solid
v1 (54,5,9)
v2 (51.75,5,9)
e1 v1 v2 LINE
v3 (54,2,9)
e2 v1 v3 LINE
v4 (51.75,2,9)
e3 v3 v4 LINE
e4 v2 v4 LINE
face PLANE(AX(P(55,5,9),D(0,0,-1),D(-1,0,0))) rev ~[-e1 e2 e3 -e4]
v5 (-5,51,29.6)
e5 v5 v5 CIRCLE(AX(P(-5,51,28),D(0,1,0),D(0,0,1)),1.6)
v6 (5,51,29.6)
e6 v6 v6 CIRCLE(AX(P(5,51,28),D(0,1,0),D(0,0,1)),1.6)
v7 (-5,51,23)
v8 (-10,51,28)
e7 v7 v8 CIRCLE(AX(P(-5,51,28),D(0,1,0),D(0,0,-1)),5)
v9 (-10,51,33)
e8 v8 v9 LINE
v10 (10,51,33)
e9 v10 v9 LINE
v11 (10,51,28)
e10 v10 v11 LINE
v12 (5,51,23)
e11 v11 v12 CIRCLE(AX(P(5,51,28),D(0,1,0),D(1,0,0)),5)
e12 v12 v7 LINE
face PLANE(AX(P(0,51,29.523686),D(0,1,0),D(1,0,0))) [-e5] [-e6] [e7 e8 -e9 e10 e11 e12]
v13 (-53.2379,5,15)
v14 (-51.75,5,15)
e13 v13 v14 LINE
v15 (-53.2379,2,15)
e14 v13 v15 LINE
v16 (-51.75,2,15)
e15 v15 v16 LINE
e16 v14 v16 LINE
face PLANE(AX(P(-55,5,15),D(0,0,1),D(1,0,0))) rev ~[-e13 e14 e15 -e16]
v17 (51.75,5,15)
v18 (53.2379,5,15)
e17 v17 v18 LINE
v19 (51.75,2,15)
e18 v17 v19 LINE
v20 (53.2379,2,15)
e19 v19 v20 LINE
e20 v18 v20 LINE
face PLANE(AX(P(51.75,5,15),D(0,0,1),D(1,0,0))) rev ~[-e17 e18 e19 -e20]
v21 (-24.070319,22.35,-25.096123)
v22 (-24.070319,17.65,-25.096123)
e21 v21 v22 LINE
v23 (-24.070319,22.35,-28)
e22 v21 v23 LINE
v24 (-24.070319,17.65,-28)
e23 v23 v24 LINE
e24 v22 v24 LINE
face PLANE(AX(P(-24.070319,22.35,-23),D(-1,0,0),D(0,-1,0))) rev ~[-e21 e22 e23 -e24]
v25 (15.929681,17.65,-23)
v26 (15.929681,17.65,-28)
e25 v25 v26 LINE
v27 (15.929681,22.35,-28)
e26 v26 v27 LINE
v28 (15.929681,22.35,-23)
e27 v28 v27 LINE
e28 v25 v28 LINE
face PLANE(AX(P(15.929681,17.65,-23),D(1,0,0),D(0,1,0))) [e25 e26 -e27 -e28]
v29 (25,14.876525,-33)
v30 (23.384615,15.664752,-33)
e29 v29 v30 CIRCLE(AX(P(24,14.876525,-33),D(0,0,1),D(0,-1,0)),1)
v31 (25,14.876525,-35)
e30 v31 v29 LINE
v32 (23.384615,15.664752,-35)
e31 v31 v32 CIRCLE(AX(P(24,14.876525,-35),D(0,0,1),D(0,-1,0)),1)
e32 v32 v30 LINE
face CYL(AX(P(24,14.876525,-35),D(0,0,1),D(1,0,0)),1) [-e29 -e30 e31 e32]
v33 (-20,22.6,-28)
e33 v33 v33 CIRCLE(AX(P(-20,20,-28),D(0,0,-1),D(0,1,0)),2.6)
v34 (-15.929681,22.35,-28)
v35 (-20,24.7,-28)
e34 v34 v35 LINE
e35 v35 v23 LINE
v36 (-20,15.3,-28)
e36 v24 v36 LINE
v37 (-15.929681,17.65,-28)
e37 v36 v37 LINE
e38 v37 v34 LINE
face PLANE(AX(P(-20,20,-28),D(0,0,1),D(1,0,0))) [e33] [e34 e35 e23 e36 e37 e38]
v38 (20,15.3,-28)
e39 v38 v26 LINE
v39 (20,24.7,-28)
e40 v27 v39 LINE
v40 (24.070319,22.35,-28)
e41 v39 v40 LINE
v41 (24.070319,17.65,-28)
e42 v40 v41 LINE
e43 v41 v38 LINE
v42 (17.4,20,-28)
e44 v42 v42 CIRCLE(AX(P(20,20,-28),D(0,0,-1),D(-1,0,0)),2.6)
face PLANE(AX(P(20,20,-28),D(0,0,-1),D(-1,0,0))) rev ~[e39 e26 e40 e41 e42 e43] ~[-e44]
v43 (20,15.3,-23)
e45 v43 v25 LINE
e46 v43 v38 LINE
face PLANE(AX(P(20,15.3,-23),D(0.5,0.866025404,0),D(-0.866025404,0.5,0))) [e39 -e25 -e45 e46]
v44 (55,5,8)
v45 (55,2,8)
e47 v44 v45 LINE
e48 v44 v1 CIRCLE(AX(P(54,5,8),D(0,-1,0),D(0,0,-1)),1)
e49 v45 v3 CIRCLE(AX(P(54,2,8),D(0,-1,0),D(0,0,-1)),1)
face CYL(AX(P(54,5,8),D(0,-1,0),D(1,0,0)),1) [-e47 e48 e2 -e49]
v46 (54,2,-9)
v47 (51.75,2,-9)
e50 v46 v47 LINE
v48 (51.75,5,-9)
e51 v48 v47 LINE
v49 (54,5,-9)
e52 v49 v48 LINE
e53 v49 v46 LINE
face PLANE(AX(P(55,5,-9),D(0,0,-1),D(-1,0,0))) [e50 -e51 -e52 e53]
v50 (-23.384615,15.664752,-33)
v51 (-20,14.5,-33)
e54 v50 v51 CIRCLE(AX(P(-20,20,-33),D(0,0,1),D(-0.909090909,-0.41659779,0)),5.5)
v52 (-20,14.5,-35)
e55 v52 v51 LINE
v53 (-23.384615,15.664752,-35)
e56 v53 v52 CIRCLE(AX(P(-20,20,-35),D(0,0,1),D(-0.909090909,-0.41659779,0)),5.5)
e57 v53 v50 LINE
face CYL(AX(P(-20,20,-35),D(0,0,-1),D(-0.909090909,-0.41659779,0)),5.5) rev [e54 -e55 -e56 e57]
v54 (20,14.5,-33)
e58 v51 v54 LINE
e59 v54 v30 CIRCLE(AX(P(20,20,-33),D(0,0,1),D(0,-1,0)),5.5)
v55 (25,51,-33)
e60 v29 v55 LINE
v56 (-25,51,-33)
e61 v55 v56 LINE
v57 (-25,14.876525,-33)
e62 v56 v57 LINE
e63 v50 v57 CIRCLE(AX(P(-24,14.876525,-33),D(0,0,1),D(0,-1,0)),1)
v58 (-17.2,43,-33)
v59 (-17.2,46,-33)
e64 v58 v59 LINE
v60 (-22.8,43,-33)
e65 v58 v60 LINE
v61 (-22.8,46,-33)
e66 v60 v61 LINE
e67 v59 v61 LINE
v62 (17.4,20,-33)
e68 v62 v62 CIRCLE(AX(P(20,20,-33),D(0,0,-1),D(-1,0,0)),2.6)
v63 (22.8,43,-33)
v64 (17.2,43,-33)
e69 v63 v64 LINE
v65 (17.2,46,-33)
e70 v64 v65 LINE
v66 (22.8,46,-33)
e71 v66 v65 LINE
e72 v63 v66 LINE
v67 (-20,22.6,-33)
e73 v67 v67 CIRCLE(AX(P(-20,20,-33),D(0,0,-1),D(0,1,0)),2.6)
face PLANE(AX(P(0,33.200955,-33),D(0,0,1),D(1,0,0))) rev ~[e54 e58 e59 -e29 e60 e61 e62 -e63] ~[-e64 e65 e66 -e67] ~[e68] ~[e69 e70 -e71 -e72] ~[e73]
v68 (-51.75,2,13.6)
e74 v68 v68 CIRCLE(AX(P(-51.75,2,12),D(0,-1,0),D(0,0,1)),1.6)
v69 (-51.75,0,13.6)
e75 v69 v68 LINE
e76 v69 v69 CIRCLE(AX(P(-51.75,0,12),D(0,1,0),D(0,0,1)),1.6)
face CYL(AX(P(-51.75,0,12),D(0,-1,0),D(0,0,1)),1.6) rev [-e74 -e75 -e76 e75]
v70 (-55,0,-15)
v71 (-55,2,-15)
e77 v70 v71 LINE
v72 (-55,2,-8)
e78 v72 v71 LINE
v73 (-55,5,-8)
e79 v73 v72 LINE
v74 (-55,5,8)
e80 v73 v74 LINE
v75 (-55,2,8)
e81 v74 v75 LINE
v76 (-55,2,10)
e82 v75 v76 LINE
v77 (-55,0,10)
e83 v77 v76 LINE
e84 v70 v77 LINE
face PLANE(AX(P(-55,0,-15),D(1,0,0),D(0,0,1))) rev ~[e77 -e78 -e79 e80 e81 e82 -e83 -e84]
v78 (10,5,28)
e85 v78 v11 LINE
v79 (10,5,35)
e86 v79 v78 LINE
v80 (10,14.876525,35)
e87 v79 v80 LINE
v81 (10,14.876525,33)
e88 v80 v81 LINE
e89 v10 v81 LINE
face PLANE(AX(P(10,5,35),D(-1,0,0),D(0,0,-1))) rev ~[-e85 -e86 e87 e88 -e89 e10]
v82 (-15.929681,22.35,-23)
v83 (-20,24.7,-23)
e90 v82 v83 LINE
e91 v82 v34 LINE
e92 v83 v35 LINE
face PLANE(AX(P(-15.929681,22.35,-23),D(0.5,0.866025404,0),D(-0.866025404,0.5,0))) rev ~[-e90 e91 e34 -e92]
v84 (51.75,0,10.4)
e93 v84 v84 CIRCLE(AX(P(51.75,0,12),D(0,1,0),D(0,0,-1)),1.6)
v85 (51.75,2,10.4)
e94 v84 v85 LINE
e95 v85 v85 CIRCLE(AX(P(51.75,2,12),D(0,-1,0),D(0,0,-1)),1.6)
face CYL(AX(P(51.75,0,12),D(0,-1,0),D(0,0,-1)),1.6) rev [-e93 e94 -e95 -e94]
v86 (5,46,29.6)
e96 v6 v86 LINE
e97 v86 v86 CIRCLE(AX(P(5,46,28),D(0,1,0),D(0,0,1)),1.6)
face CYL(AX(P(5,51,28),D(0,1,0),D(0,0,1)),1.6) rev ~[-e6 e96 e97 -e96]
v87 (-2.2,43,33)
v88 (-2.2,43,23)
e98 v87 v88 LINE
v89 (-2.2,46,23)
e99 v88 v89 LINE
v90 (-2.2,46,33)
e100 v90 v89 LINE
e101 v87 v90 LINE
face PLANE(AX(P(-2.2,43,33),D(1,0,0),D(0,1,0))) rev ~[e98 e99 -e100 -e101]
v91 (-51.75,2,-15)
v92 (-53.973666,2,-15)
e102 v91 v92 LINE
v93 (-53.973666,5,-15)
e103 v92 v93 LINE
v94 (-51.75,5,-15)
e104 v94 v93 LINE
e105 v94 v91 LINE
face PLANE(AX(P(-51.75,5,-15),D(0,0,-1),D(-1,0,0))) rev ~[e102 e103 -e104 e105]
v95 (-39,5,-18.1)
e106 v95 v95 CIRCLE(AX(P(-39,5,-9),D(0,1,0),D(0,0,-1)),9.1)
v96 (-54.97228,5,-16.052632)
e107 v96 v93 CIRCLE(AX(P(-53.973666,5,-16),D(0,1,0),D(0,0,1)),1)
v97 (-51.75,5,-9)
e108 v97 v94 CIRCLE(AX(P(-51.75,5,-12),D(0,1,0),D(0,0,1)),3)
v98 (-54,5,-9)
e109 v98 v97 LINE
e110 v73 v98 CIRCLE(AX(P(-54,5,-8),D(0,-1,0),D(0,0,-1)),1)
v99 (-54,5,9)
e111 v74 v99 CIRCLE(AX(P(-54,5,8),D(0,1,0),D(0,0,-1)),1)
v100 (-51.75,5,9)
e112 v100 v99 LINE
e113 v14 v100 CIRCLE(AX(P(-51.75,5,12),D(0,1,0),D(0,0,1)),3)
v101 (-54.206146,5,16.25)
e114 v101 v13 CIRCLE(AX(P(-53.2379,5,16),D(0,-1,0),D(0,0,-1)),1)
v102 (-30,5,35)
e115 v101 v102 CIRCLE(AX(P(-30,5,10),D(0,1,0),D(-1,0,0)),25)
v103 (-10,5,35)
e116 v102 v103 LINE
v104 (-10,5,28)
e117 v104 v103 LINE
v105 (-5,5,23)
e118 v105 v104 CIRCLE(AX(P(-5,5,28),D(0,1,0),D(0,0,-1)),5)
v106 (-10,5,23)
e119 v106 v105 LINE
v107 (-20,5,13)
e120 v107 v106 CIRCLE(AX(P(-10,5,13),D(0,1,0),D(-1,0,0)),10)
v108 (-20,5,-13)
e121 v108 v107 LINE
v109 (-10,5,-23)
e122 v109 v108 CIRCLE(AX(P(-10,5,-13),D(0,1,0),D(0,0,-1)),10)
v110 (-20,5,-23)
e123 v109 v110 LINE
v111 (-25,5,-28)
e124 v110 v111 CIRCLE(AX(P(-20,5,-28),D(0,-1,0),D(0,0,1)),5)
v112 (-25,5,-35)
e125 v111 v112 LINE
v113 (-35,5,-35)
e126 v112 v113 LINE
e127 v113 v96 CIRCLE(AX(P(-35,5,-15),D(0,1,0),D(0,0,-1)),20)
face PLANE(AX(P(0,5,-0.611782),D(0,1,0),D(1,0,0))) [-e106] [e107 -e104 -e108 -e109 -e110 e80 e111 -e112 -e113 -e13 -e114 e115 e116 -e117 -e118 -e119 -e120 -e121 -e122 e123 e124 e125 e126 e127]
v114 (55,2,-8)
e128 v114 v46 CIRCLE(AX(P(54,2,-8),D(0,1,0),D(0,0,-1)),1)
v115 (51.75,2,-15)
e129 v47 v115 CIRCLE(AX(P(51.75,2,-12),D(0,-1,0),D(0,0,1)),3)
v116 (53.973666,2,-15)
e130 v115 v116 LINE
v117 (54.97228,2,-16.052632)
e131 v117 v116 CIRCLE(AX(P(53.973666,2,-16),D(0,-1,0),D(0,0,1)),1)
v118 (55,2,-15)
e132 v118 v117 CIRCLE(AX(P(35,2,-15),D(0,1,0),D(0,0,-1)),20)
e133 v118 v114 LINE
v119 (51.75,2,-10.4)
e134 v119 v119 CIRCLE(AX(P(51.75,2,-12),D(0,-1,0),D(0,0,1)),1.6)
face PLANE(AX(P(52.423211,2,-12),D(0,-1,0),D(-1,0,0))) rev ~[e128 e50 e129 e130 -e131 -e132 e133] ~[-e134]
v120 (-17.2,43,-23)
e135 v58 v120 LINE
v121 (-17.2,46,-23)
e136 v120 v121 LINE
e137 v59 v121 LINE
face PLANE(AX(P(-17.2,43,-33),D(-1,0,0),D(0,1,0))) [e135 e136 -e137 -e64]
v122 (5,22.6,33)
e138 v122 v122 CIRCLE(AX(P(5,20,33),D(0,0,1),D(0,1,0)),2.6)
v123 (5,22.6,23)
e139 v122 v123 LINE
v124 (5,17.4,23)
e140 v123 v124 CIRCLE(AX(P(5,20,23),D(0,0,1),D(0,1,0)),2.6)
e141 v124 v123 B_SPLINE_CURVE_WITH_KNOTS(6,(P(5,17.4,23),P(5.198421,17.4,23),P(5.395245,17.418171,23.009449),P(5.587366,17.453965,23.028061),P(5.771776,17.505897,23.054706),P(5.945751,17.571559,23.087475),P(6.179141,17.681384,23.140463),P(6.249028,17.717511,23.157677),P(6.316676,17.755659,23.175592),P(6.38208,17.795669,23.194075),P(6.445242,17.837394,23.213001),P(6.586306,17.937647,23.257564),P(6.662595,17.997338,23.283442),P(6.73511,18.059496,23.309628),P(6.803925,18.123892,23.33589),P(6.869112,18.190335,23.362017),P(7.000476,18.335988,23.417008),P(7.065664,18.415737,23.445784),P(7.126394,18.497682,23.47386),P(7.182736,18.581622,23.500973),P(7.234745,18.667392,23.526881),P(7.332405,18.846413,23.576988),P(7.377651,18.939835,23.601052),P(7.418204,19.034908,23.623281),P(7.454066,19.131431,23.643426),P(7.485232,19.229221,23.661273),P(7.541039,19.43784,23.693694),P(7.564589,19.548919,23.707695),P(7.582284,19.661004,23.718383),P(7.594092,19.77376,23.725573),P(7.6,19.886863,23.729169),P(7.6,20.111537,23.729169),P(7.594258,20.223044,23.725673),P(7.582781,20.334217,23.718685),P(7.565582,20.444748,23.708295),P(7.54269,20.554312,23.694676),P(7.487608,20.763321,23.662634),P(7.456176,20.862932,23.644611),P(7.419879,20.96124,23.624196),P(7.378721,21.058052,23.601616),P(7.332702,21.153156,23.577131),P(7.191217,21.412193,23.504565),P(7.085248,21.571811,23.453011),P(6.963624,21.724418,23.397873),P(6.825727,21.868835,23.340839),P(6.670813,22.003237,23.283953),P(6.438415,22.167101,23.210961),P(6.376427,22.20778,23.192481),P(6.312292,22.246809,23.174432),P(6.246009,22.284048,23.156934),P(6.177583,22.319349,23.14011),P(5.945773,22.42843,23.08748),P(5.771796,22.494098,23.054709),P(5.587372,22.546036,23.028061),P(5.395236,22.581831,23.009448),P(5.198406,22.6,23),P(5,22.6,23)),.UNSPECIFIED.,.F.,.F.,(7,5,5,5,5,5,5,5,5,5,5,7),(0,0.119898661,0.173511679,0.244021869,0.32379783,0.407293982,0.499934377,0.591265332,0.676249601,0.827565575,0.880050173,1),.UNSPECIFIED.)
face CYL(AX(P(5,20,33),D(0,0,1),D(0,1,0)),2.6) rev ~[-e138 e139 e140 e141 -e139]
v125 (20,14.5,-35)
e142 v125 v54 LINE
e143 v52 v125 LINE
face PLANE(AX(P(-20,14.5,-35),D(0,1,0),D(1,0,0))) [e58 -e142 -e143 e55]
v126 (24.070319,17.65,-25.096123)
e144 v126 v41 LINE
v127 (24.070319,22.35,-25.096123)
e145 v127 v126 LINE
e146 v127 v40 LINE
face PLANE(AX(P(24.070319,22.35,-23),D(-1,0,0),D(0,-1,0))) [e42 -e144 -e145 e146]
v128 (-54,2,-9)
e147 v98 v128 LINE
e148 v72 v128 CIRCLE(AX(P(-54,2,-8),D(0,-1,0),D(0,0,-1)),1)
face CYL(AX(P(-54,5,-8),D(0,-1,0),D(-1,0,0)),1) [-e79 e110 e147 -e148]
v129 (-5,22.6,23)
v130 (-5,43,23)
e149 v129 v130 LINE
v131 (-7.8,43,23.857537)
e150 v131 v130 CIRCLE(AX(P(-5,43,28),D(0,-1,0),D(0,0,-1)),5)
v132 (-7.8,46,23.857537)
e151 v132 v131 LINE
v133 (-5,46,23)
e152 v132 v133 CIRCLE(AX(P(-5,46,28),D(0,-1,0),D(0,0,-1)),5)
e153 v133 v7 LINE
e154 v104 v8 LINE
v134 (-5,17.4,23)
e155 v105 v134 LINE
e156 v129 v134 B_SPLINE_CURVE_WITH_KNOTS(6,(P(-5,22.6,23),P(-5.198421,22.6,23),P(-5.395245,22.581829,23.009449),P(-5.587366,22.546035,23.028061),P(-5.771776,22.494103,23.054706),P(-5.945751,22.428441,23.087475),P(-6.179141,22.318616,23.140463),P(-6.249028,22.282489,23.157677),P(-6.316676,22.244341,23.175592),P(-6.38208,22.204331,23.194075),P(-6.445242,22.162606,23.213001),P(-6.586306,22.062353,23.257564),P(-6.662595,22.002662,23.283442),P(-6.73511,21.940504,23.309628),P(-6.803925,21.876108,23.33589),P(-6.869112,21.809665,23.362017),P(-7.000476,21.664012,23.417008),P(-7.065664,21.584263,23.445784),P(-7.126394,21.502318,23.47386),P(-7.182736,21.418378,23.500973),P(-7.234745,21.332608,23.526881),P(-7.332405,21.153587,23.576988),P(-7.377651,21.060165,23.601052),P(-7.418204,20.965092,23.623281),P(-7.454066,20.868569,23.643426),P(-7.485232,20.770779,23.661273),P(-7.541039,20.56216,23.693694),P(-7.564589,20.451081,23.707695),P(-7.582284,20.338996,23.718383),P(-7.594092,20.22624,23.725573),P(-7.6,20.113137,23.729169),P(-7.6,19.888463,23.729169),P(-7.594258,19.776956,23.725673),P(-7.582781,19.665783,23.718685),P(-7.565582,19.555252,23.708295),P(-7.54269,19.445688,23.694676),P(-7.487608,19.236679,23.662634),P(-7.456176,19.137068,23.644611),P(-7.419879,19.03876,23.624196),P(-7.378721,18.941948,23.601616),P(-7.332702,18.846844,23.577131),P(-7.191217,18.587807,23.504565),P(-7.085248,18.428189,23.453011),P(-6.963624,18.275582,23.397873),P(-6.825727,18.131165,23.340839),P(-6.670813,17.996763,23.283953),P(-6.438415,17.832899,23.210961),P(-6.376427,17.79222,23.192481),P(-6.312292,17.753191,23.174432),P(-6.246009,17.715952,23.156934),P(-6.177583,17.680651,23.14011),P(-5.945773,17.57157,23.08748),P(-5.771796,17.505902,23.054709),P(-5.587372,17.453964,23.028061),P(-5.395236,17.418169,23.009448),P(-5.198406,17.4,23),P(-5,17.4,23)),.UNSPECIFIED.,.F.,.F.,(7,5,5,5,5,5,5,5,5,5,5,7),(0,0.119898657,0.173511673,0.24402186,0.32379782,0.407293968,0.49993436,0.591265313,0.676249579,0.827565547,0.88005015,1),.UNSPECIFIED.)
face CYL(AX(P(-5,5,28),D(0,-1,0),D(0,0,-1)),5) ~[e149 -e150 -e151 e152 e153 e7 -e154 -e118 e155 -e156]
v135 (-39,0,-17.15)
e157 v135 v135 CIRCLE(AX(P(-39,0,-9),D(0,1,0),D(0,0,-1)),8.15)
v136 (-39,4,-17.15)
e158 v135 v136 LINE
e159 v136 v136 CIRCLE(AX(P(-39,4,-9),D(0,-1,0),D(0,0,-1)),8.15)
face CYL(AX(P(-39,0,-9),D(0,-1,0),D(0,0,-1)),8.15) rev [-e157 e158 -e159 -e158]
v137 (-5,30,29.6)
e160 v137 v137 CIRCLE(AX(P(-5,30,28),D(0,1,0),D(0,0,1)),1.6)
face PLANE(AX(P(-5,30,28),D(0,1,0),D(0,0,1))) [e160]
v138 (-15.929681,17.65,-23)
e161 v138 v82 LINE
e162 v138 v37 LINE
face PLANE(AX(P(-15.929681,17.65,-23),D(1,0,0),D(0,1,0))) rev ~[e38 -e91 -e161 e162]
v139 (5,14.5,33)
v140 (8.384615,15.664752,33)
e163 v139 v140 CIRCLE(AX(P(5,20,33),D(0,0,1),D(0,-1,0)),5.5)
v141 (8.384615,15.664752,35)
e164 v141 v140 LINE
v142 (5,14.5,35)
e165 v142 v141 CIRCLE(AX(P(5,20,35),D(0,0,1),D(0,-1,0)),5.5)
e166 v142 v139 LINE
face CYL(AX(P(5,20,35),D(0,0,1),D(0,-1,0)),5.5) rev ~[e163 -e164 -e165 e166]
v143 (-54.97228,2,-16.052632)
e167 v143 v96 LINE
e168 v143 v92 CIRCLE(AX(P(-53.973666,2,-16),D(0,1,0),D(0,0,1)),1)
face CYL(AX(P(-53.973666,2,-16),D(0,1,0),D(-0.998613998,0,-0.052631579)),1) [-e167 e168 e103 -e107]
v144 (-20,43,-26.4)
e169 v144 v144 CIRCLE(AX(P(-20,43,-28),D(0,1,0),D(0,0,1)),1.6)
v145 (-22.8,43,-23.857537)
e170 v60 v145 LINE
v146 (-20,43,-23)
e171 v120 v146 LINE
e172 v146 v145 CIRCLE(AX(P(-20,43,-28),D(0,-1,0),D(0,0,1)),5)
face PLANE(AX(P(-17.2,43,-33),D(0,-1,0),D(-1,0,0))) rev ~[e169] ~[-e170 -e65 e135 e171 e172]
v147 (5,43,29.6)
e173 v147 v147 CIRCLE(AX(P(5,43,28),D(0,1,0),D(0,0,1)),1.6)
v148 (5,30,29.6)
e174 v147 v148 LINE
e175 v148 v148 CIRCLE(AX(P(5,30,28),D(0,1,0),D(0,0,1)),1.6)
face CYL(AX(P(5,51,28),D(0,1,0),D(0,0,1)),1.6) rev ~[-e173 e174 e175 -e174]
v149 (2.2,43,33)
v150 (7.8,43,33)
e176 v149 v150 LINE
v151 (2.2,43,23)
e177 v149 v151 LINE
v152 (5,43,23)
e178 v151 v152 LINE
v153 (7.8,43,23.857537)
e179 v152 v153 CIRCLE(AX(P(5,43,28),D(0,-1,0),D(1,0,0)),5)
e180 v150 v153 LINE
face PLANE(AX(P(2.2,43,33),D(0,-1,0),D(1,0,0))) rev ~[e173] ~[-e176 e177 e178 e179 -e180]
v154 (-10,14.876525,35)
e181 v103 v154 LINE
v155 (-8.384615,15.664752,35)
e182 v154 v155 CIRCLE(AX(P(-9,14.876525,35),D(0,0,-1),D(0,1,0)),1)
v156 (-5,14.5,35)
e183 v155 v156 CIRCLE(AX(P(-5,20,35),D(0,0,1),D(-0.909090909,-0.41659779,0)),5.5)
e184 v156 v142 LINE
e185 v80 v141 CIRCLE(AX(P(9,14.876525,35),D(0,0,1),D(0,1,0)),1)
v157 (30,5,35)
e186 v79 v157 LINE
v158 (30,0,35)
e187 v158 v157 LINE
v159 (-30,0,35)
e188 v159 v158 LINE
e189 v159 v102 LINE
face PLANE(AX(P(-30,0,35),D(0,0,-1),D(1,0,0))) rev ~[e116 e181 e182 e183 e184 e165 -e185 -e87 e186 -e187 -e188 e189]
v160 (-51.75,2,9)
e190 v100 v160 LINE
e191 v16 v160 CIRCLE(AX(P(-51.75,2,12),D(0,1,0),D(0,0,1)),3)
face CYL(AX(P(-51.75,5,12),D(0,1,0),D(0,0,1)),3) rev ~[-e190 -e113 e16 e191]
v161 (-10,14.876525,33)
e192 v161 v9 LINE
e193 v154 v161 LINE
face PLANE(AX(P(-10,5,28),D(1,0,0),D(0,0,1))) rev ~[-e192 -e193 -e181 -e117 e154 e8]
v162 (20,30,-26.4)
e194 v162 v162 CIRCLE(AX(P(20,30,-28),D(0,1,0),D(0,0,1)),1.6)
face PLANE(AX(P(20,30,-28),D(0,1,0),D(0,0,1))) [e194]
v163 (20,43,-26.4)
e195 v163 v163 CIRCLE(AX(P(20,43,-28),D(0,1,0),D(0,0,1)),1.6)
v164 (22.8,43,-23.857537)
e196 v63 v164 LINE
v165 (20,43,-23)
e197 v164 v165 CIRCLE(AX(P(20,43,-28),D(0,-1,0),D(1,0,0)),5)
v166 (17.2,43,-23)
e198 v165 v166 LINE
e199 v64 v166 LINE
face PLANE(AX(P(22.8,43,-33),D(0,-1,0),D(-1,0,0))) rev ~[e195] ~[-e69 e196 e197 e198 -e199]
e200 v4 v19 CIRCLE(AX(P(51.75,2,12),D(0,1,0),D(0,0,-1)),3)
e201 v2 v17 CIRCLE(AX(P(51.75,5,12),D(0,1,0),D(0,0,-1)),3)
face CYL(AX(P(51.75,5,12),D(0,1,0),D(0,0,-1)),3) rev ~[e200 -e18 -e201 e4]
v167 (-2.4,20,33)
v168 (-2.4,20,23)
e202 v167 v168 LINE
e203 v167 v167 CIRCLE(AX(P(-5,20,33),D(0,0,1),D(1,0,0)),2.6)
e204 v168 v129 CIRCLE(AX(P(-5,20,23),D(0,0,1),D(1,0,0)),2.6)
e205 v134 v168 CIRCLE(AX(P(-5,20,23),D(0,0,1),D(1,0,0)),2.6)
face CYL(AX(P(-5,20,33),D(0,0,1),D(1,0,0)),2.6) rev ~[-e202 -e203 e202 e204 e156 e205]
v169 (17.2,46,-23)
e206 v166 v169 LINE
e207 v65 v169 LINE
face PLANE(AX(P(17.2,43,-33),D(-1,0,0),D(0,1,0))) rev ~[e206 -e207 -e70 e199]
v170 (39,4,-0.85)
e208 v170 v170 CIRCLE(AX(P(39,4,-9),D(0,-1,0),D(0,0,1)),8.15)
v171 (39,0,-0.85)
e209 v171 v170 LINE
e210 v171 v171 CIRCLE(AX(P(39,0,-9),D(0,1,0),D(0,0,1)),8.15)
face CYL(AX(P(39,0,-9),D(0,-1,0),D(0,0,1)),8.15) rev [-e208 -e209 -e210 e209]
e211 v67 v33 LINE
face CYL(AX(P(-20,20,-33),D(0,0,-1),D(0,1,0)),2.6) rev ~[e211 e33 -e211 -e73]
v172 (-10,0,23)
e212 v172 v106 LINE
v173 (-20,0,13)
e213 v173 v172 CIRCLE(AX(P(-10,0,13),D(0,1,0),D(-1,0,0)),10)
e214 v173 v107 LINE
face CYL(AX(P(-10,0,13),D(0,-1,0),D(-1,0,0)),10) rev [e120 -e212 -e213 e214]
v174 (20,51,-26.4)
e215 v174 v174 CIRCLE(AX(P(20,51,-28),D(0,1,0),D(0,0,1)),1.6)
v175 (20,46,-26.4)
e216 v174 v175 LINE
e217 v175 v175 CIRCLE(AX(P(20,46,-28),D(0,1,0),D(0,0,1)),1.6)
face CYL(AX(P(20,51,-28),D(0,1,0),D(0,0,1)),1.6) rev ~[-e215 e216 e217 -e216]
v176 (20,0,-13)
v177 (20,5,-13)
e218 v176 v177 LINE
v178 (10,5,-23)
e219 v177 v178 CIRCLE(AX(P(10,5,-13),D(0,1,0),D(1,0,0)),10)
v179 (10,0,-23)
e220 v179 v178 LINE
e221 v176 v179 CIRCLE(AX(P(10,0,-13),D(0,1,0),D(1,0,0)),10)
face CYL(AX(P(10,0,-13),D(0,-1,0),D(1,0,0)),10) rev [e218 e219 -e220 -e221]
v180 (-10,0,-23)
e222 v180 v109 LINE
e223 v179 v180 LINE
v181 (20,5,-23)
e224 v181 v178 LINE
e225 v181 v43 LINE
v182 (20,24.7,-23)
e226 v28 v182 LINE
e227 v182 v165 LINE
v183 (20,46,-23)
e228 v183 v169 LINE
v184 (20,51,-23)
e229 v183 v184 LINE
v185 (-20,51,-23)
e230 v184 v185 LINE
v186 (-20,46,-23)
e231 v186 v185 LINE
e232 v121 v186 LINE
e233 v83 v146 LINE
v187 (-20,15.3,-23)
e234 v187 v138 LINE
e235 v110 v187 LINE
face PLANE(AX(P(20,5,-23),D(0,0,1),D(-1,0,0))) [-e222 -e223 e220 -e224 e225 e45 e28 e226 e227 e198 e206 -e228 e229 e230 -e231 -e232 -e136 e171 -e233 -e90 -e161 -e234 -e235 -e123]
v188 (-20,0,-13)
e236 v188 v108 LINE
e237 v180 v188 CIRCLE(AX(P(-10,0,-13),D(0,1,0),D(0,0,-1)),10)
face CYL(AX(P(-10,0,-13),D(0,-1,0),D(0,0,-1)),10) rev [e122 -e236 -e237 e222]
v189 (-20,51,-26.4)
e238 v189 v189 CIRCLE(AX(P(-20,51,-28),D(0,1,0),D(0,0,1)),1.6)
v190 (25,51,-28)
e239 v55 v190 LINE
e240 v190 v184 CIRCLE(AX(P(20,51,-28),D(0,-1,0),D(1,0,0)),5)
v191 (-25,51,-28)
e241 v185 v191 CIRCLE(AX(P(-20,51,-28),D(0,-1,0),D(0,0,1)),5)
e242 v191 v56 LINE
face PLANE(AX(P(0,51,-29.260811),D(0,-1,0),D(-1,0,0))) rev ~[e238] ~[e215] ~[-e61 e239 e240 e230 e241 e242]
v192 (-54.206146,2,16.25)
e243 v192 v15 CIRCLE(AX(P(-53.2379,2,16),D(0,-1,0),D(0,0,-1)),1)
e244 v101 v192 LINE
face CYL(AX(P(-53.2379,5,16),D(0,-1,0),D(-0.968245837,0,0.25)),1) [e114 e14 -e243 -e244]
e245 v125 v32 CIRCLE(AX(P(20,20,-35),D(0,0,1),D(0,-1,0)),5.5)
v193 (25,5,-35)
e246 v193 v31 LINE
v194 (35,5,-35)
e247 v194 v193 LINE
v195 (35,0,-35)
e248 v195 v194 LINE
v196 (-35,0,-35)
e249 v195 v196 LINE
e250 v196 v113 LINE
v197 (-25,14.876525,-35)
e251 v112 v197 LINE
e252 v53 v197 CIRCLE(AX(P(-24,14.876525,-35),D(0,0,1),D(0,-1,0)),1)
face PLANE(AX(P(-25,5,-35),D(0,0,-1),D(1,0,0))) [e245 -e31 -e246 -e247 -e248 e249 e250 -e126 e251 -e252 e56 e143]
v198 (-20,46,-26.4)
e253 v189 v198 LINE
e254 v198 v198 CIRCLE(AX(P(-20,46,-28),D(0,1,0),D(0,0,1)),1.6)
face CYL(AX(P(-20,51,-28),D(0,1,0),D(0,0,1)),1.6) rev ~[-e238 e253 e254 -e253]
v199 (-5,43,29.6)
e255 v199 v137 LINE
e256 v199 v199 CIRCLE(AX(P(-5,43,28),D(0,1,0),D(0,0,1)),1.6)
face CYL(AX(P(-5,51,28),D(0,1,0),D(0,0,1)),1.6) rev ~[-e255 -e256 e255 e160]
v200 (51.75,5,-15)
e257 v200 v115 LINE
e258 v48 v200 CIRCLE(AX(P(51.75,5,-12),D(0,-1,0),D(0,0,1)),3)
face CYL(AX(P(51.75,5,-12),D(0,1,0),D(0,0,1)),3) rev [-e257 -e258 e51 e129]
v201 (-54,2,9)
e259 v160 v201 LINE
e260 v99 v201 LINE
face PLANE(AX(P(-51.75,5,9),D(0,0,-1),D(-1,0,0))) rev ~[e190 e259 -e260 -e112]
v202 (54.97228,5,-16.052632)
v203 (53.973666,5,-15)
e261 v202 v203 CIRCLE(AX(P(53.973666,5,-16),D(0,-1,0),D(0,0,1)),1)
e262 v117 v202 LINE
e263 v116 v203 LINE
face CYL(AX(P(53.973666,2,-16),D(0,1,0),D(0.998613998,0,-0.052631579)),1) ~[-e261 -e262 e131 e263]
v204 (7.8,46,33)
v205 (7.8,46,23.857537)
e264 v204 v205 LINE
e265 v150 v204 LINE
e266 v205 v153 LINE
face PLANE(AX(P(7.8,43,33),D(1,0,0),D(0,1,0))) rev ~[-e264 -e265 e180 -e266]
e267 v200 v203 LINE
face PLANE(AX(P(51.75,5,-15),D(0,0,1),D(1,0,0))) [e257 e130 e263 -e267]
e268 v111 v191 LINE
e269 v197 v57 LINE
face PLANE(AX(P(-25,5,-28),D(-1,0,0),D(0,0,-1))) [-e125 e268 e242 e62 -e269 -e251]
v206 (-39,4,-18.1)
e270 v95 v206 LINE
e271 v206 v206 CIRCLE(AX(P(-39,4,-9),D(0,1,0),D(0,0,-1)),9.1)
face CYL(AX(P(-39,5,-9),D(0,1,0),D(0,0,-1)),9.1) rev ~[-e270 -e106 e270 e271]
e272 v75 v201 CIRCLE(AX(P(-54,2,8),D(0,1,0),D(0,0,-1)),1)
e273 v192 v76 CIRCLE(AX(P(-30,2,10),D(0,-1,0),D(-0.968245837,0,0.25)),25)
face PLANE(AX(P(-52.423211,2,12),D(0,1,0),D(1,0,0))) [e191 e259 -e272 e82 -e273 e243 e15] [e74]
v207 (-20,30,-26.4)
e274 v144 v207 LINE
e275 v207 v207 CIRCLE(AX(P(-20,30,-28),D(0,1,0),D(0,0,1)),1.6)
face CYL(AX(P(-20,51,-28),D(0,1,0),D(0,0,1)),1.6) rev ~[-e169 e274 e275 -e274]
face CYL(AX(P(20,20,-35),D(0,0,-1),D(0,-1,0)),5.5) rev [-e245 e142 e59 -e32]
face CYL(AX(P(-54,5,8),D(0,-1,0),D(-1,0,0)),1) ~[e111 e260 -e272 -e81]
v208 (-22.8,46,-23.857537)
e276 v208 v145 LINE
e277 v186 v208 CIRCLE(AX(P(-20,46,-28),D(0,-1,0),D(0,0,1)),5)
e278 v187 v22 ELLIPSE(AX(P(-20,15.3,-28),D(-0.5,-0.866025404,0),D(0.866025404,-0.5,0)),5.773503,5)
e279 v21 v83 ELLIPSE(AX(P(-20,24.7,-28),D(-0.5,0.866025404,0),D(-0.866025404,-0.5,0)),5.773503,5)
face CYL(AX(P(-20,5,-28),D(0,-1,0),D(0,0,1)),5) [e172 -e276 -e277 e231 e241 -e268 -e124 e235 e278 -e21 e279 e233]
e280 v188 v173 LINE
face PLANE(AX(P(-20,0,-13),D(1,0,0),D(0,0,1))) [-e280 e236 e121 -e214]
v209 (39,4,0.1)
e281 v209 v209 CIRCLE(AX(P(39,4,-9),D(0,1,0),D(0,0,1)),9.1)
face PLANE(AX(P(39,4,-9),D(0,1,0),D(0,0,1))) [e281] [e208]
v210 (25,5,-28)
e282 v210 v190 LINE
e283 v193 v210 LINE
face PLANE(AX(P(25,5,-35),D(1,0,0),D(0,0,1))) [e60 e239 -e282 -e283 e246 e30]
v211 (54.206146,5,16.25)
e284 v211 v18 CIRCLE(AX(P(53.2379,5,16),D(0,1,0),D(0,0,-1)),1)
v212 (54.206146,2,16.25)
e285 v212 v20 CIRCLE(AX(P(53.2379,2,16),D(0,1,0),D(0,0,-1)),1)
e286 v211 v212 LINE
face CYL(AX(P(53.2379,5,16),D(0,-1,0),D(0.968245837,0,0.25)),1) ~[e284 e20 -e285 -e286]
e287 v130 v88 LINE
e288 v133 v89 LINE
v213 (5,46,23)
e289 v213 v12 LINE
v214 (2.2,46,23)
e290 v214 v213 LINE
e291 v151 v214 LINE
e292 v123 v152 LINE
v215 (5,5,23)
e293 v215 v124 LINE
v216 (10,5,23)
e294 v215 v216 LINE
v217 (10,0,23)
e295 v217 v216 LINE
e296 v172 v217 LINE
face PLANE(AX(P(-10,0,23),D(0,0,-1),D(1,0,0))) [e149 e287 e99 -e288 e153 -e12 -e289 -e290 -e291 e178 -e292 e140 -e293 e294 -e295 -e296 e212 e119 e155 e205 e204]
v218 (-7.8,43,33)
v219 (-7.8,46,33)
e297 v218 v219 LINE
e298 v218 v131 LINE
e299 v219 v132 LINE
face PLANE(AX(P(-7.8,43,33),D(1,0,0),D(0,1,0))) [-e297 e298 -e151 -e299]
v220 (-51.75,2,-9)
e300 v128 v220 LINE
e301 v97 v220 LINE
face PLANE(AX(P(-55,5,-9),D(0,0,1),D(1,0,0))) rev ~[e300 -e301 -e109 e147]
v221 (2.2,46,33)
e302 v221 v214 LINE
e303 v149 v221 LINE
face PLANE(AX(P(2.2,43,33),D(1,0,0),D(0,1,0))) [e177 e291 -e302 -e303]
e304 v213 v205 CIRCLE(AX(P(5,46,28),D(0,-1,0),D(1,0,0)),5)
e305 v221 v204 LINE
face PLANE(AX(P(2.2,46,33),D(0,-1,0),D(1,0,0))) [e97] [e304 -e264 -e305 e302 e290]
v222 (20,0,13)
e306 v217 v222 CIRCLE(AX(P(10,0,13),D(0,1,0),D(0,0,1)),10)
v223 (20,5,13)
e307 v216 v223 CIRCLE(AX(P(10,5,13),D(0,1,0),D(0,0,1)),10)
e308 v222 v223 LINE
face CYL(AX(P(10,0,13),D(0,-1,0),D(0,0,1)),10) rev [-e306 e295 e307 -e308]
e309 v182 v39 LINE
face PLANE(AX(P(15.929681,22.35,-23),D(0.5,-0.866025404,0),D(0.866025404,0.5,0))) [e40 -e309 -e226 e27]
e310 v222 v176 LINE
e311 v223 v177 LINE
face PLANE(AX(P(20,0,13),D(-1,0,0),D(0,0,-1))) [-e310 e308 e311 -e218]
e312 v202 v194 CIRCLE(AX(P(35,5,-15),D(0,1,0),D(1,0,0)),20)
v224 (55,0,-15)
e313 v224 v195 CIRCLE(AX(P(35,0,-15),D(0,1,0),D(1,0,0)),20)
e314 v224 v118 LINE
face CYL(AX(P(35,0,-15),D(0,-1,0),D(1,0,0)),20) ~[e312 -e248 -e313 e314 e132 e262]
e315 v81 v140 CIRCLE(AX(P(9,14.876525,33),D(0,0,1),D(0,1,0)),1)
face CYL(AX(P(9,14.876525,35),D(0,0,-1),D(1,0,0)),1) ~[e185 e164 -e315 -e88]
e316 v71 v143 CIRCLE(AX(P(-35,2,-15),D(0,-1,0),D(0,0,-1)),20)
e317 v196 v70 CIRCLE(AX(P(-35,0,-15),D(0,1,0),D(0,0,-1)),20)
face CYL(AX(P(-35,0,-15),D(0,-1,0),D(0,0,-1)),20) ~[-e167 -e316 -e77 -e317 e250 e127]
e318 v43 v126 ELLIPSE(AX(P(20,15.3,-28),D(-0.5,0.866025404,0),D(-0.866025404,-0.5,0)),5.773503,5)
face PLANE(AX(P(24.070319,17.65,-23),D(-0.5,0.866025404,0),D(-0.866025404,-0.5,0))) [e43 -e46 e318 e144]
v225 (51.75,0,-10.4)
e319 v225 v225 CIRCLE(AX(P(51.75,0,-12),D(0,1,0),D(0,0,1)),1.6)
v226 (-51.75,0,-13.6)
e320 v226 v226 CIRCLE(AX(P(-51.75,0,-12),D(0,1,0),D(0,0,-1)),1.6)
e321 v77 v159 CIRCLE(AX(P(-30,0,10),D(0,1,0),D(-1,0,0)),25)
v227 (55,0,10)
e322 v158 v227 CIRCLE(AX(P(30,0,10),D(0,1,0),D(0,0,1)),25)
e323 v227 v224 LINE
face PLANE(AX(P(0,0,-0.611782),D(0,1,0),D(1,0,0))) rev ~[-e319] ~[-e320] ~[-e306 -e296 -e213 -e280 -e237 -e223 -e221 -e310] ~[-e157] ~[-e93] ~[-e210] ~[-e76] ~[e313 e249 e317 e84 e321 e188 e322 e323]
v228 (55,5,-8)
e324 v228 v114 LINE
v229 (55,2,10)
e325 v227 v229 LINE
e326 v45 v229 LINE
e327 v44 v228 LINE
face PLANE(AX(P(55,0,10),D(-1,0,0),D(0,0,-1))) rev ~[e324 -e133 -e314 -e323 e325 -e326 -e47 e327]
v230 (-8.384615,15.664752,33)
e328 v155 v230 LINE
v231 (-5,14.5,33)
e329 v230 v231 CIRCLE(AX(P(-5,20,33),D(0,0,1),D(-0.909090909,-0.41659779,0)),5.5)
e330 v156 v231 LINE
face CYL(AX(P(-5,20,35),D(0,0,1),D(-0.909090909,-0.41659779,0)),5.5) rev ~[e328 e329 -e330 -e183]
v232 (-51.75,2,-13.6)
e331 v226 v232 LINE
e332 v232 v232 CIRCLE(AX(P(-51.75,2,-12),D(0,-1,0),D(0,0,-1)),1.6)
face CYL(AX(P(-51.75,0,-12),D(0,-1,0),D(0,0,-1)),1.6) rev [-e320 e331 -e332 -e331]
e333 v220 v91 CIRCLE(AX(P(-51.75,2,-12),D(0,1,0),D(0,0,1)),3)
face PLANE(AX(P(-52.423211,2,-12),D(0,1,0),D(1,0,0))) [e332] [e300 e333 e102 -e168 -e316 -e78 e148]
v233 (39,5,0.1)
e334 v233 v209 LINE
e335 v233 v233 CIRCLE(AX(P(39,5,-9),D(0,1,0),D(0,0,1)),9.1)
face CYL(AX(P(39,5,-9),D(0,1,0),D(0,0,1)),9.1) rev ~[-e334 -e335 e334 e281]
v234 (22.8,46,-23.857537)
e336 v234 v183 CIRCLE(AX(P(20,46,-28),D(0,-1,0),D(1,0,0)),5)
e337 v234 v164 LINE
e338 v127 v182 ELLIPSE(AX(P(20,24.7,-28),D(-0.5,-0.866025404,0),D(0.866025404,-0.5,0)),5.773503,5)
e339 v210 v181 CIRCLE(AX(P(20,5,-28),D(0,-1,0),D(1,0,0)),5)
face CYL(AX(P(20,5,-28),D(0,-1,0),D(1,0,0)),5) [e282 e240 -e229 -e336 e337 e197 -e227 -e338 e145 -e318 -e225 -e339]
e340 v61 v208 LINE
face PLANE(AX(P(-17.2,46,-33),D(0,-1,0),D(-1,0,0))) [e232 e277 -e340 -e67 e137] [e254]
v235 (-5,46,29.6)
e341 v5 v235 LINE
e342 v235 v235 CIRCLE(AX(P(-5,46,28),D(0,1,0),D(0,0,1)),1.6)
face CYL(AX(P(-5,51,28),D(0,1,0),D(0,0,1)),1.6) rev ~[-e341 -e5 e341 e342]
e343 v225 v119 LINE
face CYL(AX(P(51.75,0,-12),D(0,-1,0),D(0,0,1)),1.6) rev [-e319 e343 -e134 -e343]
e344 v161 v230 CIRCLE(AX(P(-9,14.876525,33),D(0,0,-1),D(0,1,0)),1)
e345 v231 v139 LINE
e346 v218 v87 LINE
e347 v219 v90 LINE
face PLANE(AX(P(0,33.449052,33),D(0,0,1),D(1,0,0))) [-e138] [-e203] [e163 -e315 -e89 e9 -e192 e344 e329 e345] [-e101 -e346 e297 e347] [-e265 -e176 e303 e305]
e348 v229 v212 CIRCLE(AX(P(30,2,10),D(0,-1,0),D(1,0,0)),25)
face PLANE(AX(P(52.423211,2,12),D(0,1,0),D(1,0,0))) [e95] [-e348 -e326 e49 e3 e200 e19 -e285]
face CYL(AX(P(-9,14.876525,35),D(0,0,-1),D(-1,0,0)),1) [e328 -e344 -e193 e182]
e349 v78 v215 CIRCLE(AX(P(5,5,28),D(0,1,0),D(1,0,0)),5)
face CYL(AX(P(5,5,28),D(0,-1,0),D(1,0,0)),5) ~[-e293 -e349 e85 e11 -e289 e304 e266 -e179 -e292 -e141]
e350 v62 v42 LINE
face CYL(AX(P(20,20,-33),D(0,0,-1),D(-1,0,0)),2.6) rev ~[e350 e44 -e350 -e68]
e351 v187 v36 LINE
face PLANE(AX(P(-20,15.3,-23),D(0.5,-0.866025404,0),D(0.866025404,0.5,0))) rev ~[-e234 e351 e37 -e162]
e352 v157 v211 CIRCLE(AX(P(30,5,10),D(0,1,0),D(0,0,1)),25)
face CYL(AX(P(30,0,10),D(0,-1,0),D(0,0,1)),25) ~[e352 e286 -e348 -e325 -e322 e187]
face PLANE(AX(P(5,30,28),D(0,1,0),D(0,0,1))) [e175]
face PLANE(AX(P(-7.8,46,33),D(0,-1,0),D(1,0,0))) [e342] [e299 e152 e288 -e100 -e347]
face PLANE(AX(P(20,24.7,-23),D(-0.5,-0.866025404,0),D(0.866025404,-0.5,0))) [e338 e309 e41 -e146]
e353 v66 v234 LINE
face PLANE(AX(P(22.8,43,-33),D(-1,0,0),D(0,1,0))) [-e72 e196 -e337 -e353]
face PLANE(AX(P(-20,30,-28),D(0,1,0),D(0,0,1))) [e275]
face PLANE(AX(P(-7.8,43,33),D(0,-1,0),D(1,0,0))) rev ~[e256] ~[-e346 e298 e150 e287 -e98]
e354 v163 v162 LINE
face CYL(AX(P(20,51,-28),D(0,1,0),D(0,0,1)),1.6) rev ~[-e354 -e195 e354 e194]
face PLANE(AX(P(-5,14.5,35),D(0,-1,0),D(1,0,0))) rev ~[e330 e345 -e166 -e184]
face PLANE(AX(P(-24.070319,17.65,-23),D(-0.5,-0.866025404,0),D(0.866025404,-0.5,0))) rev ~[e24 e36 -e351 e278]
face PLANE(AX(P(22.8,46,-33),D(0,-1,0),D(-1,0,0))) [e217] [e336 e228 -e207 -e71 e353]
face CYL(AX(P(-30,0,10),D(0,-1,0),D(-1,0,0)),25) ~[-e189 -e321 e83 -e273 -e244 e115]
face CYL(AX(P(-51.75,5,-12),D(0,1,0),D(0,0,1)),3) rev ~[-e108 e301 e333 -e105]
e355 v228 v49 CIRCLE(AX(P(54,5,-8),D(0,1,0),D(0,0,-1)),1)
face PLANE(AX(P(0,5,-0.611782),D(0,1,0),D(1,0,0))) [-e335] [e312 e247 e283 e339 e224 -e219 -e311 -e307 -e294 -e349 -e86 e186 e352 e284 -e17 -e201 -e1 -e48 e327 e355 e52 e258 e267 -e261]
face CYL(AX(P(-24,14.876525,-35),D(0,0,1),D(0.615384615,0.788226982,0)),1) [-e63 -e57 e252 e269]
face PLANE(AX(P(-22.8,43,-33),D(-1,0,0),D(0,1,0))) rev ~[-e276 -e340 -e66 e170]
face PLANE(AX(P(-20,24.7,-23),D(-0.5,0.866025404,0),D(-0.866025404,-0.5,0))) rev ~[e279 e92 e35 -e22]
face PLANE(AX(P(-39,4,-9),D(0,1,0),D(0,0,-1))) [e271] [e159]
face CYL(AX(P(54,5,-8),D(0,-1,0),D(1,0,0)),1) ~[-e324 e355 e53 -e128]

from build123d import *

# Parameters (mm, degrees)
CROQUIS1_R              = 8.15
CROQUIS1_R_2            = 1.6
SALIENTE_EXTRUIR1_DEPTH = 5
CROQUIS2_R              = 9.1
CORTAR_EXTRUIR1_DEPTH   = 1
CORTAR_EXTRUIR2_DEPTH   = 3
REDONDEO1_R             = 1
SALIENTE_EXTRUIR2_DEPTH = 46
CORTAR_EXTRUIR3_DEPTH   = 2
CORTAR_EXTRUIR4_REACH   = 103.242
CROQUIS6_R              = 2.6
CROQUIS6_W              = 5.6
CROQUIS6_H              = 3
CORTAR_EXTRUIR5_DEPTH   = 5
SALIENTE_EXTRUIR3_DEPTH = 46
CORTAR_EXTRUIR6_DEPTH   = 2
CORTAR_EXTRUIR7_REACH   = 103.242
CROQUIS10_R             = 2.6
CROQUIS10_W             = 5.6
CROQUIS10_H             = 3
CROQUIS11_R             = 1.6
CORTAR_EXTRUIR8_DEPTH   = 21
REDONDEO2_R             = 1


with BuildPart() as part:
    # Croquis1 → Saliente-Extruir1 (new body)
    with BuildSketch(Plane(origin=(0, 0, 0), x_dir=(1, 0, 0), z_dir=(0, 1, 0))):
        with BuildLine():
            Line((-30, -35), (30, -35))
            ThreePointArc((30, -35), (47.67766953, -27.67766953), (55, -10))
            Line((55, -10), (55, 15))
            ThreePointArc((55, 15), (49.142135624, 29.142135624), (35, 35))
            Line((35, 35), (-35, 35))
            ThreePointArc((-35, 35), (-49.142135624, 29.142135624), (-55, 15))
            Line((-55, 15), (-55, -10))
            ThreePointArc((-55, -10), (-47.67766953, -27.67766953), (-30, -35))
        make_face()
        with Locations(Location((39, 9, 0), (0, 0, 270))):
            Circle(CROQUIS1_R, mode=Mode.SUBTRACT)
        with Locations(Location((51.75, 12, 0), (0, 0, 270))):
            Circle(CROQUIS1_R_2, mode=Mode.SUBTRACT)
        with Locations(Location((51.75, -12, 0), (0, 0, 90))):
            Circle(CROQUIS1_R_2, mode=Mode.SUBTRACT)
        with Locations(Location((-51.75, -12, 0), (0, 0, 270))):
            Circle(CROQUIS1_R_2, mode=Mode.SUBTRACT)
        with Locations(Location((-51.75, 12, 0), (0, 0, 90))):
            Circle(CROQUIS1_R_2, mode=Mode.SUBTRACT)
        with Locations(Location((-39, 9, 0), (0, 0, 90))):
            Circle(CROQUIS1_R, mode=Mode.SUBTRACT)
        with BuildLine():
            Line((-10, -23), (10, -23))
            ThreePointArc((10, -23), (17.071067812, -20.071067812), (20, -13))
            Line((20, -13), (20, 13))
            ThreePointArc((20, 13), (17.071067812, 20.071067812), (10, 23))
            Line((10, 23), (-10, 23))
            ThreePointArc((-10, 23), (-17.071067812, 20.071067812), (-20, 13))
            Line((-20, 13), (-20, -13))
            ThreePointArc((-20, -13), (-17.071067812, -20.071067812), (-10, -23))
        make_face(mode=Mode.SUBTRACT)
    extrude(amount=SALIENTE_EXTRUIR1_DEPTH)

    # Croquis2 → Cortar-Extruir1 (cut)
    with BuildSketch(Plane(origin=(0, 5, 0), x_dir=(1, 0, 0), z_dir=(0, 1, 0))):
        with Locations(Location((39, 9, 0), (0, 0, 270))):
            Circle(CROQUIS2_R)
        with Locations(Location((-39, 9, 0), (0, 0, 90))):
            Circle(CROQUIS2_R)
    extrude(amount=-CORTAR_EXTRUIR1_DEPTH, mode=Mode.SUBTRACT)

    # Croquis3 → Cortar-Extruir2 (cut)
    with BuildSketch(Plane(origin=(0, 5, 0), x_dir=(1, 0, 0), z_dir=(0, 1, 0))):
        with BuildLine():
            Line((51.75, 15), (55, 15))
            Line((55, 15), (55, 9))
            Line((55, 9), (51.75, 9))
            ThreePointArc((51.75, 9), (48.75, 12), (51.75, 15))
        make_face()
        with BuildLine():
            Line((51.75, -15), (55, -15))
            Line((55, -15), (55, -9))
            Line((55, -9), (51.75, -9))
            ThreePointArc((51.75, -9), (48.75, -12), (51.75, -15))
        make_face()
        with BuildLine():
            Line((-51.75, -9), (-55, -9))
            Line((-55, -9), (-55, -15))
            Line((-55, -15), (-51.75, -15))
            ThreePointArc((-51.75, -15), (-48.75, -12), (-51.75, -9))
        make_face()
        with BuildLine():
            Line((-51.75, 15), (-55, 15))
            Line((-55, 15), (-55, 9))
            Line((-55, 9), (-51.75, 9))
            ThreePointArc((-51.75, 9), (-48.75, 12), (-51.75, 15))
        make_face()
    extrude(amount=-CORTAR_EXTRUIR2_DEPTH, mode=Mode.SUBTRACT)

    # Redondeo1
    redondeo1_edges = [part.edges().sort_by_distance(p)[0] for p in [
        (-55, 3.5, -9),
        (-55, 3.5, 9),
        (55, 3.5, 9),
        (55, 3.5, -9),
        (55, 3.5, -15),
        (-55, 3.5, -15),
        (54.494897428, 3.5, 15),
        (-54.494897428, 3.5, 15),
    ]]
    fillet(redondeo1_edges, radius=REDONDEO1_R)

    # Croquis4 → Saliente-Extruir2 (add)
    with BuildSketch(Plane(origin=(0, 5, 0), x_dir=(1, 0, 0), z_dir=(0, 1, 0))):
        with BuildLine():
            Line((-25, 35), (25, 35))
            Line((25, 35), (25, 28))
            ThreePointArc((25, 28), (23.535533906, 24.464466094), (20, 23))
            Line((20, 23), (-20, 23))
            ThreePointArc((-20, 23), (-23.535533906, 24.464466094), (-25, 28))
            Line((-25, 28), (-25, 35))
        make_face()
    extrude(amount=SALIENTE_EXTRUIR2_DEPTH)

    # Croquis5 → Cortar-Extruir3 (cut)
    with BuildSketch(Plane(origin=(0, 0, -35), x_dir=(-1, 0, 0), z_dir=(0, 0, -1))):
        with BuildLine():
            Line((-25, 51), (25, 51))
            Line((25, 51), (25, 17.708712153))
            ThreePointArc((25, 17.708712153), (22.970514841, 15.371172764), (20, 14.5))
            Line((20, 14.5), (-20, 14.5))
            ThreePointArc((-20, 14.5), (-22.970514841, 15.371172764), (-25, 17.708712153))
            Line((-25, 17.708712153), (-25, 51))
        make_face()
    extrude(amount=-CORTAR_EXTRUIR3_DEPTH, mode=Mode.SUBTRACT)

    # Cortar-Extruir4: up to this face of the body (flat: up to its plane)
    cortar_extruir4_end = Plane(part.part.faces().sort_by_distance((0, 26.68556701, -23))[0])
    # Croquis6 → Cortar-Extruir4 (cut, up to the picked face)
    with BuildSketch(Plane(origin=(0, 0, -33), x_dir=(-1, 0, 0), z_dir=(0, 0, -1)), mode=Mode.PRIVATE) as cortar_extruir4_sk1:
        with Locations((-20, 20)):
            Circle(CROQUIS6_R)
    cortar_extruir4_tool1 = split(extrude(cortar_extruir4_sk1.sketch, amount=-CORTAR_EXTRUIR4_REACH, mode=Mode.PRIVATE), bisect_by=cortar_extruir4_end, keep=Keep.BOTH, mode=Mode.PRIVATE)
    # Croquis6 → Cortar-Extruir4 (cut, up to the picked face)
    with BuildSketch(Plane(origin=(0, 0, -33), x_dir=(-1, 0, 0), z_dir=(0, 0, -1)), mode=Mode.PRIVATE) as cortar_extruir4_sk2:
        with Locations(Location((20, 20, 0), (0, 0, 90))):
            Circle(CROQUIS6_R)
    cortar_extruir4_tool2 = split(extrude(cortar_extruir4_sk2.sketch, amount=-CORTAR_EXTRUIR4_REACH, mode=Mode.PRIVATE), bisect_by=cortar_extruir4_end, keep=Keep.BOTH, mode=Mode.PRIVATE)
    # Croquis6 → Cortar-Extruir4 (cut, up to the picked face)
    with BuildSketch(Plane(origin=(0, 0, -33), x_dir=(-1, 0, 0), z_dir=(0, 0, -1)), mode=Mode.PRIVATE) as cortar_extruir4_sk3:
        with Locations((-20, 44.5)):
            Rectangle(CROQUIS6_W, CROQUIS6_H)
    cortar_extruir4_tool3 = split(extrude(cortar_extruir4_sk3.sketch, amount=-CORTAR_EXTRUIR4_REACH, mode=Mode.PRIVATE), bisect_by=cortar_extruir4_end, keep=Keep.BOTH, mode=Mode.PRIVATE)
    # Croquis6 → Cortar-Extruir4 (cut, up to the picked face)
    with BuildSketch(Plane(origin=(0, 0, -33), x_dir=(-1, 0, 0), z_dir=(0, 0, -1)), mode=Mode.PRIVATE) as cortar_extruir4_sk4:
        with Locations((20, 44.5)):
            Rectangle(CROQUIS6_W, CROQUIS6_H)
    cortar_extruir4_tool4 = split(extrude(cortar_extruir4_sk4.sketch, amount=-CORTAR_EXTRUIR4_REACH, mode=Mode.PRIVATE), bisect_by=cortar_extruir4_end, keep=Keep.BOTH, mode=Mode.PRIVATE)
    add(cortar_extruir4_tool1.solids().sort_by(Axis((20, 20, -33), (0, 0, 1)))[0], mode=Mode.SUBTRACT)
    add(cortar_extruir4_tool2.solids().sort_by(Axis((-20, 20, -33), (0, 0, 1)))[0], mode=Mode.SUBTRACT)
    add(cortar_extruir4_tool3.solids().sort_by(Axis((20, 44.5, -33), (0, 0, 1)))[0], mode=Mode.SUBTRACT)
    add(cortar_extruir4_tool4.solids().sort_by(Axis((-20, 44.5, -33), (0, 0, 1)))[0], mode=Mode.SUBTRACT)

    # Croquis7 → Cortar-Extruir5 (cut)
    with BuildSketch(Plane.XY.offset(-23)):
        Polygon((-20, 24.7), (-24.070319398, 22.35), (-24.070319398, 17.65), (-20, 15.3), (-15.929680602, 17.65), (-15.929680602, 22.35), align=None)
        Polygon((15.929680602, 22.35), (20, 24.7), (24.070319398, 22.35), (24.070319398, 17.65), (20, 15.3), (15.929680602, 17.65), align=None)
    extrude(amount=-CORTAR_EXTRUIR5_DEPTH, mode=Mode.SUBTRACT)

    # Croquis8 → Saliente-Extruir3 (add)
    with BuildSketch(Plane(origin=(0, 5, 0), x_dir=(1, 0, 0), z_dir=(0, 1, 0))):
        with BuildLine():
            Line((-10, -35), (10, -35))
            Line((10, -35), (10, -28))
            ThreePointArc((10, -28), (8.535533906, -24.464466094), (5, -23))
            Line((5, -23), (-5, -23))
            ThreePointArc((-5, -23), (-8.535533906, -24.464466094), (-10, -28))
            Line((-10, -28), (-10, -35))
        make_face()
    extrude(amount=SALIENTE_EXTRUIR3_DEPTH)

    # Croquis9 → Cortar-Extruir6 (cut)
    with BuildSketch(Plane.XY.offset(35)):
        with BuildLine():
            Line((10, 17.708712153), (10, 51))
            Line((10, 51), (-10, 51))
            Line((-10, 51), (-10, 17.708712153))
            ThreePointArc((-10, 17.708712153), (-7.970514841, 15.371172764), (-5, 14.5))
            Line((-5, 14.5), (5, 14.5))
            ThreePointArc((5, 14.5), (7.970514841, 15.371172764), (10, 17.708712153))
        make_face()
    extrude(amount=-CORTAR_EXTRUIR6_DEPTH, mode=Mode.SUBTRACT)

    # Cortar-Extruir7: up to this face of the body (flat: up to its plane)
    cortar_extruir7_end = Plane(part.part.faces().sort_by_distance((0, 23.446428571, 23))[0])
    # Croquis10 → Cortar-Extruir7 (cut, up to the picked face)
    with BuildSketch(Plane.XY.offset(33), mode=Mode.PRIVATE) as cortar_extruir7_sk1:
        with Locations((-5, 20)):
            Circle(CROQUIS10_R)
    cortar_extruir7_tool1 = split(extrude(cortar_extruir7_sk1.sketch, amount=-CORTAR_EXTRUIR7_REACH, mode=Mode.PRIVATE), bisect_by=cortar_extruir7_end, keep=Keep.BOTH, mode=Mode.PRIVATE)
    # Croquis10 → Cortar-Extruir7 (cut, up to the picked face)
    with BuildSketch(Plane.XY.offset(33), mode=Mode.PRIVATE) as cortar_extruir7_sk2:
        with Locations(Location((5, 20, 0), (0, 0, 90))):
            Circle(CROQUIS10_R)
    cortar_extruir7_tool2 = split(extrude(cortar_extruir7_sk2.sketch, amount=-CORTAR_EXTRUIR7_REACH, mode=Mode.PRIVATE), bisect_by=cortar_extruir7_end, keep=Keep.BOTH, mode=Mode.PRIVATE)
    # Croquis10 → Cortar-Extruir7 (cut, up to the picked face)
    with BuildSketch(Plane.XY.offset(33), mode=Mode.PRIVATE) as cortar_extruir7_sk3:
        with Locations((-5, 44.5)):
            Rectangle(CROQUIS10_W, CROQUIS10_H)
    cortar_extruir7_tool3 = split(extrude(cortar_extruir7_sk3.sketch, amount=-CORTAR_EXTRUIR7_REACH, mode=Mode.PRIVATE), bisect_by=cortar_extruir7_end, keep=Keep.BOTH, mode=Mode.PRIVATE)
    # Croquis10 → Cortar-Extruir7 (cut, up to the picked face)
    with BuildSketch(Plane.XY.offset(33), mode=Mode.PRIVATE) as cortar_extruir7_sk4:
        with Locations((5, 44.5)):
            Rectangle(CROQUIS10_W, CROQUIS10_H)
    cortar_extruir7_tool4 = split(extrude(cortar_extruir7_sk4.sketch, amount=-CORTAR_EXTRUIR7_REACH, mode=Mode.PRIVATE), bisect_by=cortar_extruir7_end, keep=Keep.BOTH, mode=Mode.PRIVATE)
    add(cortar_extruir7_tool1.solids().sort_by(Axis((-5, 20, 33), (0, 0, -1)))[0], mode=Mode.SUBTRACT)
    add(cortar_extruir7_tool2.solids().sort_by(Axis((5, 20, 33), (0, 0, -1)))[0], mode=Mode.SUBTRACT)
    add(cortar_extruir7_tool3.solids().sort_by(Axis((-5, 44.5, 33), (0, 0, -1)))[0], mode=Mode.SUBTRACT)
    add(cortar_extruir7_tool4.solids().sort_by(Axis((5, 44.5, 33), (0, 0, -1)))[0], mode=Mode.SUBTRACT)

    # Croquis11 → Cortar-Extruir8 (cut)
    with BuildSketch(Plane(origin=(0, 51, 0), x_dir=(1, 0, 0), z_dir=(0, 1, 0))):
        with Locations(Location((-5, -28, 0), (0, 0, 270))):
            Circle(CROQUIS11_R)
        with Locations(Location((-20, 28, 0), (0, 0, 270))):
            Circle(CROQUIS11_R)
        with Locations(Location((5, -28, 0), (0, 0, 270))):
            Circle(CROQUIS11_R)
        with Locations(Location((20, 28, 0), (0, 0, 270))):
            Circle(CROQUIS11_R)
    extrude(amount=-CORTAR_EXTRUIR8_DEPTH, mode=Mode.SUBTRACT)

    # Redondeo2
    redondeo2_edges = [part.edges().sort_by_distance(p)[0] for p in [
        (25, 17.708712153, -34),
        (-25, 17.708712153, -34),
        (10, 17.708712153, 34),
        (-10, 17.708712153, 34),
    ]]
    fillet(redondeo2_edges, radius=REDONDEO2_R)


solid = part.part
